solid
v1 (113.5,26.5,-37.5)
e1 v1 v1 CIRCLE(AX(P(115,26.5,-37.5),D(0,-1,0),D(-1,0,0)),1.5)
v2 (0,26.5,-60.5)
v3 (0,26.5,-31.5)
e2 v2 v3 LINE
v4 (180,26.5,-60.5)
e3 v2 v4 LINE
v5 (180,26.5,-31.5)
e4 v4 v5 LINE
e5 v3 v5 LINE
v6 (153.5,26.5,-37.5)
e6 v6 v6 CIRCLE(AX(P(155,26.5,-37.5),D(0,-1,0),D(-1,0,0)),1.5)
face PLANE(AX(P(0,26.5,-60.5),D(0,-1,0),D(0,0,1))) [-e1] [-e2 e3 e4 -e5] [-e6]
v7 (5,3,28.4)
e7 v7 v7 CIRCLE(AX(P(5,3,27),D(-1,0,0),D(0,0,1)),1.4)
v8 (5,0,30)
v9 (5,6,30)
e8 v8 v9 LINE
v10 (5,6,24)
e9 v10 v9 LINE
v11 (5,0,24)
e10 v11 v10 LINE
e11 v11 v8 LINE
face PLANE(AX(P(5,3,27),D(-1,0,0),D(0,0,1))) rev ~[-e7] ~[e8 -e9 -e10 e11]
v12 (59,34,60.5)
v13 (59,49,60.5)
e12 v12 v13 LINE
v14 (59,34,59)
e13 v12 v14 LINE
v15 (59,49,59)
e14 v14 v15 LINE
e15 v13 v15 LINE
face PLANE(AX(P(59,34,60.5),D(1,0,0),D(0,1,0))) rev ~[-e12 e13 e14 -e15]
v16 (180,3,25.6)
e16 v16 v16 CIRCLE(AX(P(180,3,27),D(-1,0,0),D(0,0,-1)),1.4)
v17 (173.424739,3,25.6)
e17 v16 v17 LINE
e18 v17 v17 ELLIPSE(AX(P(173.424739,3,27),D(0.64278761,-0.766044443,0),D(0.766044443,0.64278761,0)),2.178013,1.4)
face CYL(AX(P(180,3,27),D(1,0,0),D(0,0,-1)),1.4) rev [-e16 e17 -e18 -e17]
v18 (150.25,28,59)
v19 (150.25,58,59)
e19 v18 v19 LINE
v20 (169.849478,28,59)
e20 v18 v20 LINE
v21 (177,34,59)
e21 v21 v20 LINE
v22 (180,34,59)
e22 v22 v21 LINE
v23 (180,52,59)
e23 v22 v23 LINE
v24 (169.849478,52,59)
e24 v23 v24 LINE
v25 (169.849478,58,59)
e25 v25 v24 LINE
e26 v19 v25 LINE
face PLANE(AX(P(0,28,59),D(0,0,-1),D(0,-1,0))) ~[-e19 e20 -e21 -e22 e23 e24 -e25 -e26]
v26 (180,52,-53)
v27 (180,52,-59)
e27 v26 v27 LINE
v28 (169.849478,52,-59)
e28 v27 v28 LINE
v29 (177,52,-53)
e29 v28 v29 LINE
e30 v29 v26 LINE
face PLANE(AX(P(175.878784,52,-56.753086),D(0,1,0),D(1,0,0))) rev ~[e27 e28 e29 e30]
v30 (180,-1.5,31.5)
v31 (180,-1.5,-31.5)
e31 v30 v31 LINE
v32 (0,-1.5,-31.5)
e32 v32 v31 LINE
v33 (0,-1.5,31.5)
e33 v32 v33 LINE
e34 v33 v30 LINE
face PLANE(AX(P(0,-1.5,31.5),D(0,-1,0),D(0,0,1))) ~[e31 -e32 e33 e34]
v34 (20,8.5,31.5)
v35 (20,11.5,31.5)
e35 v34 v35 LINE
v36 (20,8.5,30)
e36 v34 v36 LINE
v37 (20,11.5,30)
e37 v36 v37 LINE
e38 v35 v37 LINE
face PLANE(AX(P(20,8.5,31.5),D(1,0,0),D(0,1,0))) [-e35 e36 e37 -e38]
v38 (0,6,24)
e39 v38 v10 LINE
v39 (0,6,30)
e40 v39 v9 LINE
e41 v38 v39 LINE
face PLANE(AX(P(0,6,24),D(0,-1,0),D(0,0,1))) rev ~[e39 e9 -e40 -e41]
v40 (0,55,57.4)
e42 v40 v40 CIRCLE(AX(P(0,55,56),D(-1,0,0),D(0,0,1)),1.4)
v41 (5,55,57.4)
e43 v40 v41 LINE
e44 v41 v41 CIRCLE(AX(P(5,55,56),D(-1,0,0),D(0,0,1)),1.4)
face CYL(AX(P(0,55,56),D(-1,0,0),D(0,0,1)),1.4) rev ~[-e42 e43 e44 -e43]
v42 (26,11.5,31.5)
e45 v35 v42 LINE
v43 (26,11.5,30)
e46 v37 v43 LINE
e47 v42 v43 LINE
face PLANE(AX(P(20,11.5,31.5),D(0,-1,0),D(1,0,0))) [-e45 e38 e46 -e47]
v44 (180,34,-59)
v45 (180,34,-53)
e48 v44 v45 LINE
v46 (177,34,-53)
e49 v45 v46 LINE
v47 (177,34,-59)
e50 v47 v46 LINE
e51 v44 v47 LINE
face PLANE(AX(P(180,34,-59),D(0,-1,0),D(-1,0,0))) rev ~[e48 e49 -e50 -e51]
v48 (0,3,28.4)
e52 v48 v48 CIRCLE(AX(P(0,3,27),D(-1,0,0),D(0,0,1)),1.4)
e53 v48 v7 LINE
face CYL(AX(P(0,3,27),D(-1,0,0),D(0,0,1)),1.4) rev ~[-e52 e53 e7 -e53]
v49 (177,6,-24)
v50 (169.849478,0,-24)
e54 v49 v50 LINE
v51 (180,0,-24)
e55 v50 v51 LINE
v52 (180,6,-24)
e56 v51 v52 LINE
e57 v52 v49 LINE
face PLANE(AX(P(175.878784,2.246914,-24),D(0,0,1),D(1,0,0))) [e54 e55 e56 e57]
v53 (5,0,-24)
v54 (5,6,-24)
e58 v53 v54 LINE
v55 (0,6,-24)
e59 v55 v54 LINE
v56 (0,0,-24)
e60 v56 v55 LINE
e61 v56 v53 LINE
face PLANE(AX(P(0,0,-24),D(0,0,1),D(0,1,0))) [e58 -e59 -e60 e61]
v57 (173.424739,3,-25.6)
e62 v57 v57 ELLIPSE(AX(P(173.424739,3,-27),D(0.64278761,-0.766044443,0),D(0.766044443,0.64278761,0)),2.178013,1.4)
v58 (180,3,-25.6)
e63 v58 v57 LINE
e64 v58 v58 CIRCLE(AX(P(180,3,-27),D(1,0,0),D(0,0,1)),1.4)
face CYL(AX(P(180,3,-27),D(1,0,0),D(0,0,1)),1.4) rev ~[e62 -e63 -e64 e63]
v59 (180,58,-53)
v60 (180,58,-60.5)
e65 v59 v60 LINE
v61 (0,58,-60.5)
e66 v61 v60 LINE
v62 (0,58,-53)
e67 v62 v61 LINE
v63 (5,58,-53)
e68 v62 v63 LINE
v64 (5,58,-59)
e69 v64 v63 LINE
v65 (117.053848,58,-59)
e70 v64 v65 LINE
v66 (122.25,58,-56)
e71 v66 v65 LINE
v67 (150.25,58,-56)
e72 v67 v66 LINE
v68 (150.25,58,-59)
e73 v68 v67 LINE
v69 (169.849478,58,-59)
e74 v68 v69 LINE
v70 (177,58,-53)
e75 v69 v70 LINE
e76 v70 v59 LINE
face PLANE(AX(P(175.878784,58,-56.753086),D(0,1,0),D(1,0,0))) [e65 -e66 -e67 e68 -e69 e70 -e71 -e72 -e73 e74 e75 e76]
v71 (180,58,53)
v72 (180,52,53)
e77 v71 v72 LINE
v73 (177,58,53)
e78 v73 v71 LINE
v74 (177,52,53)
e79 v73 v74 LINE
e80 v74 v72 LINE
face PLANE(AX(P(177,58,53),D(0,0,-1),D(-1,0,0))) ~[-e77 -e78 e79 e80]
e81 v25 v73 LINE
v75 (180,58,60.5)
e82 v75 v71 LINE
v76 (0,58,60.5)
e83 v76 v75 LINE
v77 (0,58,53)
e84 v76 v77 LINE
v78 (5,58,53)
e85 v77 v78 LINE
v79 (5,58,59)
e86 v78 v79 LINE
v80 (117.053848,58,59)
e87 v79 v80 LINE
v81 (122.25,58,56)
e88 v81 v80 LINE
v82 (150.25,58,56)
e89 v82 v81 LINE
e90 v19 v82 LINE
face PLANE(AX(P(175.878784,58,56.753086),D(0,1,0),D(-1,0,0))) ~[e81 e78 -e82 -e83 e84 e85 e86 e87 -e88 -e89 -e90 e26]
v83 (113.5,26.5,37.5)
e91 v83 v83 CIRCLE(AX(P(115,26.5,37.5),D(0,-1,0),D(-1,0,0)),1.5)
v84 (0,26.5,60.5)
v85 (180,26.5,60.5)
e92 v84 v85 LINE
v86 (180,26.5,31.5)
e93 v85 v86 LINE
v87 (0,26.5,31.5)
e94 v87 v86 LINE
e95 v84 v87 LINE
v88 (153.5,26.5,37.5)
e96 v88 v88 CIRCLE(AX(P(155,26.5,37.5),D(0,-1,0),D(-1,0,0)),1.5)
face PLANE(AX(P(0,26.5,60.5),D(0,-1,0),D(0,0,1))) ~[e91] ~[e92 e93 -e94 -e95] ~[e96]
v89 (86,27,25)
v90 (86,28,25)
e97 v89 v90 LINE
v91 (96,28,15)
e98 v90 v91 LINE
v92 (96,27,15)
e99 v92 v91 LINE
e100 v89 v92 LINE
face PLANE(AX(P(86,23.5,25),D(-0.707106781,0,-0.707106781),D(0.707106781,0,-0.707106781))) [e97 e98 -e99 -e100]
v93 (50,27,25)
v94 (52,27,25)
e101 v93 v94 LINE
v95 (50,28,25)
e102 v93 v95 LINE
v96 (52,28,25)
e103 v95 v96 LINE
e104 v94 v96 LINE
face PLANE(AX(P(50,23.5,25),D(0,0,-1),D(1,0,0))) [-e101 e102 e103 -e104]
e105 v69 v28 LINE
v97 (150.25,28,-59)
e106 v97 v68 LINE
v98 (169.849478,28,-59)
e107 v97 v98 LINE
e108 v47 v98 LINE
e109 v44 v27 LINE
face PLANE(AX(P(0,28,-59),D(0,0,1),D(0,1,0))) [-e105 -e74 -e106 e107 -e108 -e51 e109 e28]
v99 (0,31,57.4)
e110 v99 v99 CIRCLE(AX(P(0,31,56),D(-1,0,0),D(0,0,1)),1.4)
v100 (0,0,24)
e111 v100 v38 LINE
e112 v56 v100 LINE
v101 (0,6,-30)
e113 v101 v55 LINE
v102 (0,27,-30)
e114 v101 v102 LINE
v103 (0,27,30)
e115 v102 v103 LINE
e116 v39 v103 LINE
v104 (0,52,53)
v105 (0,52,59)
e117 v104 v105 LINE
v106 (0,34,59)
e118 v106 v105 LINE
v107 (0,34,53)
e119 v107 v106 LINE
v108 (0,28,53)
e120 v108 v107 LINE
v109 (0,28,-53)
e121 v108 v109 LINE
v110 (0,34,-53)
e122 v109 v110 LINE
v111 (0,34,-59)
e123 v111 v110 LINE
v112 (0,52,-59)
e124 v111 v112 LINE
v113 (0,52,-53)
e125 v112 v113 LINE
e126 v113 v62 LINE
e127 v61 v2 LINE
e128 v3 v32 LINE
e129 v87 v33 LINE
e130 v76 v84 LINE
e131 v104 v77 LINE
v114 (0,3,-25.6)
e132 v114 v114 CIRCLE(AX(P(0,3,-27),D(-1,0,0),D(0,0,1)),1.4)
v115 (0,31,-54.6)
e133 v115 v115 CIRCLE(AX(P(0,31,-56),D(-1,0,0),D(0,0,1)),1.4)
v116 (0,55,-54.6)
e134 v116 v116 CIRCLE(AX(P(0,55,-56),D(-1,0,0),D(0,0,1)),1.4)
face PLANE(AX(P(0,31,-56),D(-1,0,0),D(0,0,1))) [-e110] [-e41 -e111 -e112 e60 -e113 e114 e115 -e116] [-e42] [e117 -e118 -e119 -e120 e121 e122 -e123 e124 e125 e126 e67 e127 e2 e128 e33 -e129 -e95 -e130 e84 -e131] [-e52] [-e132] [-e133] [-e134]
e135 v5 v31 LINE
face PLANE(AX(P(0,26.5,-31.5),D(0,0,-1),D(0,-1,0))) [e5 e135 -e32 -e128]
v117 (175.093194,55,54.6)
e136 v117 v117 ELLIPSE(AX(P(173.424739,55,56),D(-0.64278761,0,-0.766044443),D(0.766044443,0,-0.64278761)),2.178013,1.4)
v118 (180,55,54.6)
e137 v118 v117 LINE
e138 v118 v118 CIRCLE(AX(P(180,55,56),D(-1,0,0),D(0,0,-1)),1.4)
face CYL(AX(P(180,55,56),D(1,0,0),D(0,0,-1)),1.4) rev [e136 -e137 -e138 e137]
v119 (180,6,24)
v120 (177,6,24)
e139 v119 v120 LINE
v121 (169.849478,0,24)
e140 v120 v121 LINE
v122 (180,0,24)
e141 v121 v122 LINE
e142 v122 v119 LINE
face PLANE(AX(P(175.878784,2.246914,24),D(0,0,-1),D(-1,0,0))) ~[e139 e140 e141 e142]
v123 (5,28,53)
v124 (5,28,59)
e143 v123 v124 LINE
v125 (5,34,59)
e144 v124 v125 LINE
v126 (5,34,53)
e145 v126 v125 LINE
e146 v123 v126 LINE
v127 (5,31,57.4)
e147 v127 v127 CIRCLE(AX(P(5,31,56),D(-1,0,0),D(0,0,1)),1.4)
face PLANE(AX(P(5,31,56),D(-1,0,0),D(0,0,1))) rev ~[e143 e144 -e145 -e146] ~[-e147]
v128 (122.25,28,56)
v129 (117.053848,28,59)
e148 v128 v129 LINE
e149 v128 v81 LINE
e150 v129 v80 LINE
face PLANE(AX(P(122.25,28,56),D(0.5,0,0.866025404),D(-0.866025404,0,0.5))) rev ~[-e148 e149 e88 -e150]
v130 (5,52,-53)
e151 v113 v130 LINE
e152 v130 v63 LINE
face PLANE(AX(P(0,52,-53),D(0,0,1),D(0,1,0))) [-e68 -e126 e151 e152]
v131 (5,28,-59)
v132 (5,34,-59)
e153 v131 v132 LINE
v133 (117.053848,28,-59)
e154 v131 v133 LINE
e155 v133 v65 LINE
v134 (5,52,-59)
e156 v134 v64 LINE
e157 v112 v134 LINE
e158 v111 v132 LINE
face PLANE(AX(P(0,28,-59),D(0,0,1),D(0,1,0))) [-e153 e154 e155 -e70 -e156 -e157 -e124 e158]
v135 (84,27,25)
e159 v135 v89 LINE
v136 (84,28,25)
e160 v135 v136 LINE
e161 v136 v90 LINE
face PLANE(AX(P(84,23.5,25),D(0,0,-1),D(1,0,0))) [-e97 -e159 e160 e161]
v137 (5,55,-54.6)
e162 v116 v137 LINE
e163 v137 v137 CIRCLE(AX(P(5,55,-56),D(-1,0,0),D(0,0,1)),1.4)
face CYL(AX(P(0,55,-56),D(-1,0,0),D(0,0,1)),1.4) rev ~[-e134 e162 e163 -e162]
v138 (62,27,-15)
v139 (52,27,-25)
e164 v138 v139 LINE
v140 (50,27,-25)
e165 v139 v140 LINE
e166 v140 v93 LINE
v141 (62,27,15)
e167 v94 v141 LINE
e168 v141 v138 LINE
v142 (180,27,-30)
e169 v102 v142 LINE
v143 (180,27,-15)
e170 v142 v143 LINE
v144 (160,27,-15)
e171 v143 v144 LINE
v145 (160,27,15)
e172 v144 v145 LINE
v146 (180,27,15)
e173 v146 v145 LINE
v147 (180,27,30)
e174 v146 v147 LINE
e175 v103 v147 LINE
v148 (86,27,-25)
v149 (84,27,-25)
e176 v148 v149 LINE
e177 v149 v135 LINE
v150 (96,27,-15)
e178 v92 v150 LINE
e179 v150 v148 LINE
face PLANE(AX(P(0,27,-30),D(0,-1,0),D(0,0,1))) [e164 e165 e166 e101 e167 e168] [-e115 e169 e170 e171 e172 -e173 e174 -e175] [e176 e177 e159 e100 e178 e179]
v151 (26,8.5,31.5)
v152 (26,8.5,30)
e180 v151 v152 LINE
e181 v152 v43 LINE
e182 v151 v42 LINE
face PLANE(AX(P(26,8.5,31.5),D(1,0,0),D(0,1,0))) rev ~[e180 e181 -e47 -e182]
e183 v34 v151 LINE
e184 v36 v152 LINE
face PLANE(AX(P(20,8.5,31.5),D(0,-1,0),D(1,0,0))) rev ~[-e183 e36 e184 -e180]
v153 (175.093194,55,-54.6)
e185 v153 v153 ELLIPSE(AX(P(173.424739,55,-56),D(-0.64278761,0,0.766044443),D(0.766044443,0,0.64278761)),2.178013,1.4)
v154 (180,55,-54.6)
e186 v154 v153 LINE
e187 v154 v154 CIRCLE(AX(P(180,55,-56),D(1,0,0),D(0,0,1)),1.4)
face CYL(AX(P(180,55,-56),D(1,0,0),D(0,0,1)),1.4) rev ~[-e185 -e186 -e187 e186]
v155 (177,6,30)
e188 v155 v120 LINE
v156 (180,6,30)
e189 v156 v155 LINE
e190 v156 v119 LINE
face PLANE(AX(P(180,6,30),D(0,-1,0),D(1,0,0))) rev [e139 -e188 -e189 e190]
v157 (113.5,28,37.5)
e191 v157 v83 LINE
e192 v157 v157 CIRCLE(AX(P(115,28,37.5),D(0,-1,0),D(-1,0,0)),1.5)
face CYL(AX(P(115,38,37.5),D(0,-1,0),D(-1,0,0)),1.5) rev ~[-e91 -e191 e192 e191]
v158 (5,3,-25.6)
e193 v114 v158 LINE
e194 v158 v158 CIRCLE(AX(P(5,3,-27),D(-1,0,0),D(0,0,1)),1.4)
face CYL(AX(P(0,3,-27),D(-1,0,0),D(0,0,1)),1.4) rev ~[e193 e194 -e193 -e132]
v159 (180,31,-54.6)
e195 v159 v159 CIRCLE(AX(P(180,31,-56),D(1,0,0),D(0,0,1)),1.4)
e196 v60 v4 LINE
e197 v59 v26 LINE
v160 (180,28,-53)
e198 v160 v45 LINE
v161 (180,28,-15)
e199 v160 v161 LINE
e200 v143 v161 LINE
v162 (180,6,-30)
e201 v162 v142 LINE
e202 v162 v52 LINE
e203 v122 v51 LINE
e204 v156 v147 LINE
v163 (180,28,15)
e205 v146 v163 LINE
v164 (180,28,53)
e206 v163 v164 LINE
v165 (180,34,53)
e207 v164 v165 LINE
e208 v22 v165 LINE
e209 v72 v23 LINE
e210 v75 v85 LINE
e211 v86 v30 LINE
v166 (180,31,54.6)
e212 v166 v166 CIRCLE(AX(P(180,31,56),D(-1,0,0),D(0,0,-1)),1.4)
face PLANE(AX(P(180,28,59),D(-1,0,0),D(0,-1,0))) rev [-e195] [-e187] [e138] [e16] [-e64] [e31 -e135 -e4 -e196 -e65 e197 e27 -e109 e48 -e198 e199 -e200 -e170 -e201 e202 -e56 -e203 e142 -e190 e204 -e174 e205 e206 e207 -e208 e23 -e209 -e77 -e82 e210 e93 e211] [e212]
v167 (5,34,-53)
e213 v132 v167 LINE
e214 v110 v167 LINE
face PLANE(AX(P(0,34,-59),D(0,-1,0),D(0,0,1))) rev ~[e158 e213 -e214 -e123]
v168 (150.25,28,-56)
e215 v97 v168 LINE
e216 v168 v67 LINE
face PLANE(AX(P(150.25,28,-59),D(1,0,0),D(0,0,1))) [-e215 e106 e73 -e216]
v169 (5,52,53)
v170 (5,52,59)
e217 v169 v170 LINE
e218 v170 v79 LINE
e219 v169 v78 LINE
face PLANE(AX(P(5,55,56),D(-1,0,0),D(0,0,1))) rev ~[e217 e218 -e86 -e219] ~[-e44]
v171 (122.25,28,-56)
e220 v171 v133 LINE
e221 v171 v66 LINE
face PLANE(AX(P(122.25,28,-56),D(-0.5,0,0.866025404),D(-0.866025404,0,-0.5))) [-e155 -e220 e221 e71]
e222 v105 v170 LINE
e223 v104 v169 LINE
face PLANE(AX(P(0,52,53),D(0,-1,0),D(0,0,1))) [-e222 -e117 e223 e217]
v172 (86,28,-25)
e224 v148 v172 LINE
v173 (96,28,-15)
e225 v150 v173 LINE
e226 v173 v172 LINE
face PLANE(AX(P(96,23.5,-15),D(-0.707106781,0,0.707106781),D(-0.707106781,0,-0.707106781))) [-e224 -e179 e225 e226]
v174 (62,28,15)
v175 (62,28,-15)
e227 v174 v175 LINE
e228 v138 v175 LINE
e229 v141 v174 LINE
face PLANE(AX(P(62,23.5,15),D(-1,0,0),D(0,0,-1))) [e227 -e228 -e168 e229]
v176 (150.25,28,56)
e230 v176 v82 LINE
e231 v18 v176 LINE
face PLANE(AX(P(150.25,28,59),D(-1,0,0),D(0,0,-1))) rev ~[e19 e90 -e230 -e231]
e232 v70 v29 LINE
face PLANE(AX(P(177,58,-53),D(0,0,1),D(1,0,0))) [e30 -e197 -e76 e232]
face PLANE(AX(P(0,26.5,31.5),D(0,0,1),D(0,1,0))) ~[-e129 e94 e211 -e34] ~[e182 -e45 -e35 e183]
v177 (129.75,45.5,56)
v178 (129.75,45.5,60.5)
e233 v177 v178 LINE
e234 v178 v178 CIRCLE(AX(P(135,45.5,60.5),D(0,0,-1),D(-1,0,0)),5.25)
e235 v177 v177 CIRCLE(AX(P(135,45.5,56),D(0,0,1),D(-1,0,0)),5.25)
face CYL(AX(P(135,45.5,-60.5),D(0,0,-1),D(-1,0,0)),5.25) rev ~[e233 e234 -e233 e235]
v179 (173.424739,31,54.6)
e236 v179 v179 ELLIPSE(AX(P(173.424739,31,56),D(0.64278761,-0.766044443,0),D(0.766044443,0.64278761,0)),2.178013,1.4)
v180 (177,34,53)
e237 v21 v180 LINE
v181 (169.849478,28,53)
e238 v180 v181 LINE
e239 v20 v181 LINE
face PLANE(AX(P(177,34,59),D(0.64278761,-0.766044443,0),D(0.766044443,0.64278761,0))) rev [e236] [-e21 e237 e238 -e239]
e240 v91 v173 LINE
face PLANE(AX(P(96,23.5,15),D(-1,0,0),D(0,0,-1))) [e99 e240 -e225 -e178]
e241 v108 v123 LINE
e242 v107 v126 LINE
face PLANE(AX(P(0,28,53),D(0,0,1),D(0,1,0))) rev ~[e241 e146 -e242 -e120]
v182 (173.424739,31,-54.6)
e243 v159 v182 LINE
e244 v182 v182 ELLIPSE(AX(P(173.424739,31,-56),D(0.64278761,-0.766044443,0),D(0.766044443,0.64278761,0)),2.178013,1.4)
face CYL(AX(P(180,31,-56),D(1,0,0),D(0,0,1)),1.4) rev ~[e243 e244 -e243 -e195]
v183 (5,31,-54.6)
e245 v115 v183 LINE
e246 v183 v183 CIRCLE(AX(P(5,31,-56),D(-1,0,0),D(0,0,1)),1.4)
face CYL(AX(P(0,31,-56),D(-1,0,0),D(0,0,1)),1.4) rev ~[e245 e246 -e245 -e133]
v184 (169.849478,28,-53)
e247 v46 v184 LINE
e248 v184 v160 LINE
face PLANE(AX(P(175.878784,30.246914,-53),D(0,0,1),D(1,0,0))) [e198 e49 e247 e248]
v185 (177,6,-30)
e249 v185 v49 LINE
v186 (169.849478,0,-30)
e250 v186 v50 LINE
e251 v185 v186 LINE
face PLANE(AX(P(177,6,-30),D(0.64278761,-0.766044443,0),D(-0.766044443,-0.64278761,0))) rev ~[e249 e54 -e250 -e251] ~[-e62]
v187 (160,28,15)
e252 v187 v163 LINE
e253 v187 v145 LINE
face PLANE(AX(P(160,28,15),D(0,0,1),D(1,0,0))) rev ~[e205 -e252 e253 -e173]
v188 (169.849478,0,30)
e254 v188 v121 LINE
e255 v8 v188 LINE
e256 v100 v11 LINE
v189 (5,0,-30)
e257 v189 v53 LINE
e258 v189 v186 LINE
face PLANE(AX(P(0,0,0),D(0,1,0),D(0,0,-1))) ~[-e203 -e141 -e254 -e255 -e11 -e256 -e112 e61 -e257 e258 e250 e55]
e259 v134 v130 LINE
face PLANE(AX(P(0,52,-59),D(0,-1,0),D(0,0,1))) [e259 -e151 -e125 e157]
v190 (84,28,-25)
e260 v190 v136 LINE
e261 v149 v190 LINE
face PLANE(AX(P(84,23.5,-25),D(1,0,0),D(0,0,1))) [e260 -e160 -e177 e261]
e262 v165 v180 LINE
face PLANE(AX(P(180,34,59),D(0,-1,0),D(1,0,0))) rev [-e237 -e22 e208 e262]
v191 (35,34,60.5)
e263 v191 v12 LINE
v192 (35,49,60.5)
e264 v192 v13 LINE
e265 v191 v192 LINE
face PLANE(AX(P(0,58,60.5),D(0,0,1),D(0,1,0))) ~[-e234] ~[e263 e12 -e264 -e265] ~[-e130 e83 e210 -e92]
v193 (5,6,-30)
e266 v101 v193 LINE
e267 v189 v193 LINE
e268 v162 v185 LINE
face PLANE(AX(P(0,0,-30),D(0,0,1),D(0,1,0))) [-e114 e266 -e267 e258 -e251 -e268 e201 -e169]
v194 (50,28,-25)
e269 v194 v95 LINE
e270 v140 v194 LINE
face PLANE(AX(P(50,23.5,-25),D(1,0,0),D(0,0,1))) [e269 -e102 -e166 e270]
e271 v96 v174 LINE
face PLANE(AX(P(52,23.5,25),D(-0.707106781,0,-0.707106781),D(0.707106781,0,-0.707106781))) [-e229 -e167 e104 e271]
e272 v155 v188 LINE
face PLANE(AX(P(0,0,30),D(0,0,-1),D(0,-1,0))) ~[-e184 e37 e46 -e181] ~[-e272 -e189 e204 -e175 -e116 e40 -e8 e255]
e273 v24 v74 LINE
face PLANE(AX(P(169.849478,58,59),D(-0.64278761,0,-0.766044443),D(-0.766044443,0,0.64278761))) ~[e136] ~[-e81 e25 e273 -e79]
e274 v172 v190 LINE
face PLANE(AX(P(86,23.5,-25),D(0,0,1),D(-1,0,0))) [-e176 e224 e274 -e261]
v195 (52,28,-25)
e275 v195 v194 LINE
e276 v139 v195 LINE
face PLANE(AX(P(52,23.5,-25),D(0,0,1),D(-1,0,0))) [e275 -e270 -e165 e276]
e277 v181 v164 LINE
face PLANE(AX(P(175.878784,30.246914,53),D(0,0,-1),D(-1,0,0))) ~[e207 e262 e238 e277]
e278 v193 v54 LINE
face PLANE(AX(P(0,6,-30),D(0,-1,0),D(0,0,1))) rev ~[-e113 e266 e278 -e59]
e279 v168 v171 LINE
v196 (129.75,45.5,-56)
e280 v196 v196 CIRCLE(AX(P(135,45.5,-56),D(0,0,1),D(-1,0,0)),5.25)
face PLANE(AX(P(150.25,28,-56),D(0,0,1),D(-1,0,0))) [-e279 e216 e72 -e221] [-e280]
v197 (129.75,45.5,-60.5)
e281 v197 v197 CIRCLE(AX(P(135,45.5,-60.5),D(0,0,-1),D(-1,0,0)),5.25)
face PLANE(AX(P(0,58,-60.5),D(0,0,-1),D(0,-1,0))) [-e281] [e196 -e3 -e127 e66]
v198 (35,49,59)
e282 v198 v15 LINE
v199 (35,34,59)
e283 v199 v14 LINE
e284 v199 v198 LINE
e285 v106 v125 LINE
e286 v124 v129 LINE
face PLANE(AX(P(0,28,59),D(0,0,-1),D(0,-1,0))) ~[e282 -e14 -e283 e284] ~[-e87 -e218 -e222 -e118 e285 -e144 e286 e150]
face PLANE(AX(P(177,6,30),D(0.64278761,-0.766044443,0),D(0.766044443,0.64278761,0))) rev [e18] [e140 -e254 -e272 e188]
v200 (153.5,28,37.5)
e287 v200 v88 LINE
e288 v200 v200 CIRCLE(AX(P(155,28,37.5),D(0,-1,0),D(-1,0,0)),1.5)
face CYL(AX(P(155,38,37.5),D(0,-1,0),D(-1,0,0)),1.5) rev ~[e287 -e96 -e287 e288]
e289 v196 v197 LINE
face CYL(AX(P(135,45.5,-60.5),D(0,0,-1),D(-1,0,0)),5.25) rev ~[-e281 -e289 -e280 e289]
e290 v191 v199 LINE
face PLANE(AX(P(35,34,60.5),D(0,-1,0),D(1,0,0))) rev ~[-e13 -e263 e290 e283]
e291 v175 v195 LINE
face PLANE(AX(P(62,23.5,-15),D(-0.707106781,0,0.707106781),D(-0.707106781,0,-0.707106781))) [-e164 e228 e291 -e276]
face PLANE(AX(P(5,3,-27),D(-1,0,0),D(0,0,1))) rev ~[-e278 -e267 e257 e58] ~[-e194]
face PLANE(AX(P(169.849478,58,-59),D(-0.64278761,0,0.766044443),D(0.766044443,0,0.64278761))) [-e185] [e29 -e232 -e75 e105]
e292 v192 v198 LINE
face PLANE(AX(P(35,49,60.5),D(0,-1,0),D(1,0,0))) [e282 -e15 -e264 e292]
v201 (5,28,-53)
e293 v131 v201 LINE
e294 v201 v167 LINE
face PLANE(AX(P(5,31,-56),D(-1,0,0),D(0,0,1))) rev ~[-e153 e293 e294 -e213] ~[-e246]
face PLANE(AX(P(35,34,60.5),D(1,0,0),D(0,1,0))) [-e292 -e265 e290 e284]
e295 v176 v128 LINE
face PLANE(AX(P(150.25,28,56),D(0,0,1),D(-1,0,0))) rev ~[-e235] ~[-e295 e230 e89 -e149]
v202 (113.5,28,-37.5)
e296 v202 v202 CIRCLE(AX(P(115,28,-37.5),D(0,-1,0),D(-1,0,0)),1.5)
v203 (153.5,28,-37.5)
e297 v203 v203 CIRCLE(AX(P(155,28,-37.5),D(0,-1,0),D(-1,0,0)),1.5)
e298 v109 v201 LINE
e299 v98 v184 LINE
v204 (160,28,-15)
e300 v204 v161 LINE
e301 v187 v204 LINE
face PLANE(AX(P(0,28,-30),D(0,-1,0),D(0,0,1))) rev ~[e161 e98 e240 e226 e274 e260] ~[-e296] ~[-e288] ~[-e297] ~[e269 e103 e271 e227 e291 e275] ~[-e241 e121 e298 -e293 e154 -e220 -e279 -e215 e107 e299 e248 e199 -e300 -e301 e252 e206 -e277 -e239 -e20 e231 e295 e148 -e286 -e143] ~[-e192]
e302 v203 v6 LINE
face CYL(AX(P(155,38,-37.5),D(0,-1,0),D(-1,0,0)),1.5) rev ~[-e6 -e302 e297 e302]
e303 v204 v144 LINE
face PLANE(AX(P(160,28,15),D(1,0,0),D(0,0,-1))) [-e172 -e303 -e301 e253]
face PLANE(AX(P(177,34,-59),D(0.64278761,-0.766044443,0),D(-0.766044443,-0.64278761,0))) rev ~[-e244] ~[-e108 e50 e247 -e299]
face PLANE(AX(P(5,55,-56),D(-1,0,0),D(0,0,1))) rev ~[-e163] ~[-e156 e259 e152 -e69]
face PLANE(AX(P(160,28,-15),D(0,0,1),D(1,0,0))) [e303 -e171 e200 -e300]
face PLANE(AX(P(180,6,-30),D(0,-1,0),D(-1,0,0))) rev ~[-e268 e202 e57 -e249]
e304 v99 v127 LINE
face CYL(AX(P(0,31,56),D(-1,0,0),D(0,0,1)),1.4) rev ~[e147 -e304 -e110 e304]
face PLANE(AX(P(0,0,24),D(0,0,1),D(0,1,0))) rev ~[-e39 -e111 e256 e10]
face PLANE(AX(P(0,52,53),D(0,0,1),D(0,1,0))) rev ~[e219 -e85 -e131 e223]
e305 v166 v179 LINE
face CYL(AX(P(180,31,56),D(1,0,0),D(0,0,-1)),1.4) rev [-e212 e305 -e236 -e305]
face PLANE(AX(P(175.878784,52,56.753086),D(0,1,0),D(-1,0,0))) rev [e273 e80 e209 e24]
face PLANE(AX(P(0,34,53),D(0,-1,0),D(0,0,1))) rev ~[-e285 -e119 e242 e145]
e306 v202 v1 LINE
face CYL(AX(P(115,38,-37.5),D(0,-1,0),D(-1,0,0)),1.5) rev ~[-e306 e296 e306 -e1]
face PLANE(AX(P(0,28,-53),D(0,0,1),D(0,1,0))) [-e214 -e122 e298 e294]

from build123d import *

# Parameters (mm, degrees)
VYSUNOUT_TENKOST_NN_1_DEPTH       = 180
SKICA5_W                          = 60
SKICA5_H                          = 1
P_IDAT_VYSUNUT_M3_DEPTH           = 180
SKICA6_W                          = 40
SKICA6_H                          = 30
ODEBRAT_VYSUNUT_M2_DEPTH          = 3
SKICA7_W                          = 6
SKICA7_H                          = 6
P_IDAT_VYSUNUT_M4_DEPTH           = 5
SKICA8_R                          = 1.4
ODEBRAT_VYSUNUT_M3_DEPTH          = 5
SKICA9_R                          = 5.25
ODEBRAT_VYSUNUT_M4_DEPTH          = 225.510578815
P_IDAT_VYSUNUT_M7_DEPTH           = 6
SKICA16_R                         = 1.4
ODEBRAT_VYSUNUT_M13_DEPTH         = 10
P_IDAT_VYSUNUT_M8_DEPTH           = 6
SKICA18_R                         = 1.4
ODEBRAT_VYSUNUT_M14_DEPTH         = 16
P_IDAT_VYSUNUT_M9_DEPTH           = 6
SKICA20_R                         = 1.4
ODEBRAT_VYSUNUT_M15_DEPTH         = 16
ODEBRAT_START                     = -25
ODEBRAT_VYSUNUT_M16_DEPTH         = 8
P_IDAT_VYSUNUT_M10_DEPTH          = 30
SKICA23_R                         = 5.25
ODEBRAT_VYSUNUT_M17_DEPTH         = 224.705721876
D_RY_PRO_KOL_K_VELIKOST_MM1_D     = 3
D_RY_PRO_KOL_K_VELIKOST_MM1_DEPTH = 10
D_RY_PRO_KOL_K_VELIKOST_MM1_TIP   = 0.901290929
SKICA29_W                         = 6
SKICA29_H                         = 3
ODEBRAT_VYSUNUT_M18_DEPTH         = 10
SKICA30_W                         = 24
SKICA30_H                         = 15
ODEBRAT_VYSUNUT_M19_DEPTH         = 5


with BuildPart() as part:
    # Skica4 → Vysunout tenkostěnný1 (new body)
    with BuildSketch(Plane(origin=(0, 0, 0), x_dir=(0, 0, -1), z_dir=(1, 0, 0))):
        Polygon((0, 0), (30, 0), (30, 28), (59, 28), (59, 58), (60.5, 58), (60.5, 26.5), (31.5, 26.5), (31.5, -1.5), (0, -1.5), align=None)
    vysunout_tenkost_nn_1 = extrude(amount=VYSUNOUT_TENKOST_NN_1_DEPTH)

    # Zrcadlit1: Vysunout tenkostěnný1 across plane
    add(vysunout_tenkost_nn_1.mirror(Plane(origin=(180, -1.5, 0), x_dir=(1, 0, 0), z_dir=(0, 0, 1))))

    # Skica5 → Přidat vysunutím3 (add)
    with BuildSketch(Plane.ZY):
        with Locations((0, 27.5)):
            Rectangle(SKICA5_W, SKICA5_H)
    extrude(amount=-P_IDAT_VYSUNUT_M3_DEPTH)

    # Skica6 → Odebrat vysunutím2 (cut)
    with BuildSketch(Plane(origin=(0, 28, 0), x_dir=(1, 0, 0), z_dir=(0, 1, 0))):
        with Locations((180, 0)):
            Rectangle(SKICA6_W, SKICA6_H)
    extrude(amount=-ODEBRAT_VYSUNUT_M2_DEPTH, mode=Mode.SUBTRACT)

    # Skica7 → Přidat vysunutím4 (add)
    with BuildSketch(Plane.ZY):
        with Locations((-56, 31)):
            Rectangle(SKICA7_W, SKICA7_H)
        with Locations((-56, 55)):
            Rectangle(SKICA7_W, SKICA7_H)
        with Locations((56, 55)):
            Rectangle(SKICA7_W, SKICA7_H)
        with Locations((56, 31)):
            Rectangle(SKICA7_W, SKICA7_H)
        with Locations((27, 3)):
            Rectangle(SKICA7_W, SKICA7_H)
        with Locations((-27, 3)):
            Rectangle(SKICA7_W, SKICA7_H)
    extrude(amount=-P_IDAT_VYSUNUT_M4_DEPTH)

    # Skica8 → Odebrat vysunutím3 (cut)
    with BuildSketch(Plane.ZY):
        with Locations((-56, 55)):
            Circle(SKICA8_R)
        with Locations((-56, 31)):
            Circle(SKICA8_R)
        with Locations((-27, 3)):
            Circle(SKICA8_R)
        with Locations((27, 3)):
            Circle(SKICA8_R)
        with Locations((56, 31)):
            Circle(SKICA8_R)
        with Locations((56, 55)):
            Circle(SKICA8_R)
    extrude(amount=-ODEBRAT_VYSUNUT_M3_DEPTH, mode=Mode.SUBTRACT)

    # Skica9 → Odebrat vysunutím4 (cut, through all)
    with BuildSketch(Plane(origin=(0, 0, -60.5), x_dir=(-1, 0, 0), z_dir=(0, 0, -1))):
        with Locations((-135, 45.5)):
            Circle(SKICA9_R)
    extrude(amount=-ODEBRAT_VYSUNUT_M4_DEPTH, mode=Mode.SUBTRACT)

    # Skica15 → Přidat vysunutím7 (add)
    with BuildSketch(Plane.XY.offset(-30)):
        Polygon((180, 0), (180, 6), (177, 6), (169.849478444, 0), align=None)
    p_idat_vysunut_m7 = extrude(amount=P_IDAT_VYSUNUT_M7_DEPTH)

    # Skica16 → Odebrat vysunutím13 (cut)
    with BuildSketch(Plane(origin=(180, 0, 0), x_dir=(0, 0, -1), z_dir=(1, 0, 0))):
        with Locations(Location((27, 3, 0), (0, 0, 180))):
            Circle(SKICA16_R)
    odebrat_vysunut_m13 = extrude(amount=-ODEBRAT_VYSUNUT_M13_DEPTH, mode=Mode.SUBTRACT)

    # Skica17 → Přidat vysunutím8 (add)
    with BuildSketch(Plane.XY.offset(-59)):
        Polygon((180, 28), (180, 34), (177, 34), (169.849478444, 28), align=None)
    p_idat_vysunut_m8 = extrude(amount=P_IDAT_VYSUNUT_M8_DEPTH)

    # Skica18 → Odebrat vysunutím14 (cut)
    with BuildSketch(Plane(origin=(180, 0, 0), x_dir=(0, 0, -1), z_dir=(1, 0, 0))):
        with Locations(Location((56, 31, 0), (0, 0, 180))):
            Circle(SKICA18_R)
    odebrat_vysunut_m14 = extrude(amount=-ODEBRAT_VYSUNUT_M14_DEPTH, mode=Mode.SUBTRACT)

    # Skica19 → Přidat vysunutím9 (add)
    with BuildSketch(Plane(origin=(0, 58, 0), x_dir=(1, 0, 0), z_dir=(0, 1, 0))):
        Polygon((180, 59), (177, 59), (169.849478444, 59), (177, 53), (180, 53), align=None)
    p_idat_vysunut_m9 = extrude(amount=-P_IDAT_VYSUNUT_M9_DEPTH)

    # Skica20 → Odebrat vysunutím15 (cut)
    with BuildSketch(Plane(origin=(180, 0, 0), x_dir=(0, 0, -1), z_dir=(1, 0, 0))):
        with Locations(Location((56, 55, 0), (0, 0, 180))):
            Circle(SKICA20_R)
    odebrat_vysunut_m15 = extrude(amount=-ODEBRAT_VYSUNUT_M15_DEPTH, mode=Mode.SUBTRACT)

    # Zrcadlit2: Přidat vysunutím7, Odebrat vysunutím13, Přidat vysunutím8, Odebrat vysunutím14, Přidat vysunutím9, Odebrat vysunutím15 across plane
    add(p_idat_vysunut_m7.mirror(Plane.XY))
    add(odebrat_vysunut_m13.mirror(Plane.XY), mode=Mode.SUBTRACT)
    add(p_idat_vysunut_m8.mirror(Plane.XY))
    add(odebrat_vysunut_m14.mirror(Plane.XY), mode=Mode.SUBTRACT)
    add(p_idat_vysunut_m9.mirror(Plane.XY))
    add(odebrat_vysunut_m15.mirror(Plane.XY), mode=Mode.SUBTRACT)

    # Skica21 → Odebrat vysunutím16 (cut)
    with BuildSketch(Plane.XZ.offset(1.5).offset(ODEBRAT_START)):
        Polygon((62, -15), (52, -25), (50, -25), (50, 25), (52, 25), (62, 15), align=None)
        Polygon((86, -25), (84, -25), (84, 25), (86, 25), (96, 15), (96, -15), align=None)
    extrude(amount=-ODEBRAT_VYSUNUT_M16_DEPTH, mode=Mode.SUBTRACT)

    # Skica22 → Přidat vysunutím10 (add)
    with BuildSketch(Plane(origin=(0, 28, 0), x_dir=(1, 0, 0), z_dir=(0, 1, 0))):
        Polygon((117.053847577, 59), (150.25, 59), (150.25, 56), (122.25, 56), align=None)
        Polygon((122.25, -56), (117.053847577, -59), (150.25, -59), (150.25, -56), align=None)
    extrude(amount=P_IDAT_VYSUNUT_M10_DEPTH)

    # Skica23 → Odebrat vysunutím17 (cut, through all)
    with BuildSketch(Plane.XY.offset(59)):
        with Locations(Location((135, 45.5, 0), (0, 0, 180))):
            Circle(SKICA23_R)
    extrude(amount=-ODEBRAT_VYSUNUT_M17_DEPTH, mode=Mode.SUBTRACT)

    # Díry pro kolík, velikost mm1
    with Locations(Plane(origin=(0, 28, 0), x_dir=(1, 0, 0), z_dir=(0, 1, 0))):
        with Locations((155, -37.5), (115, -37.5), (115, 37.5), (155, 37.5)):
            Hole(D_RY_PRO_KOL_K_VELIKOST_MM1_D / 2, depth=D_RY_PRO_KOL_K_VELIKOST_MM1_DEPTH)
            with Locations((0, 0, -(D_RY_PRO_KOL_K_VELIKOST_MM1_DEPTH + D_RY_PRO_KOL_K_VELIKOST_MM1_TIP / 2))):  # 118° drill point
                Cone(0, D_RY_PRO_KOL_K_VELIKOST_MM1_D / 2, D_RY_PRO_KOL_K_VELIKOST_MM1_TIP, mode=Mode.SUBTRACT)

    # Skica29 → Odebrat vysunutím18 (cut)
    with BuildSketch(Plane.XY.offset(31.5)):
        with Locations((23, 10)):
            Rectangle(SKICA29_W, SKICA29_H)
    extrude(amount=-ODEBRAT_VYSUNUT_M18_DEPTH, mode=Mode.SUBTRACT)

    # Skica30 → Odebrat vysunutím19 (cut)
    with BuildSketch(Plane.XY.offset(60.5)):
        with Locations((47, 41.5)):
            Rectangle(SKICA30_W, SKICA30_H)
    extrude(amount=-ODEBRAT_VYSUNUT_M19_DEPTH, mode=Mode.SUBTRACT)


solid = part.part
